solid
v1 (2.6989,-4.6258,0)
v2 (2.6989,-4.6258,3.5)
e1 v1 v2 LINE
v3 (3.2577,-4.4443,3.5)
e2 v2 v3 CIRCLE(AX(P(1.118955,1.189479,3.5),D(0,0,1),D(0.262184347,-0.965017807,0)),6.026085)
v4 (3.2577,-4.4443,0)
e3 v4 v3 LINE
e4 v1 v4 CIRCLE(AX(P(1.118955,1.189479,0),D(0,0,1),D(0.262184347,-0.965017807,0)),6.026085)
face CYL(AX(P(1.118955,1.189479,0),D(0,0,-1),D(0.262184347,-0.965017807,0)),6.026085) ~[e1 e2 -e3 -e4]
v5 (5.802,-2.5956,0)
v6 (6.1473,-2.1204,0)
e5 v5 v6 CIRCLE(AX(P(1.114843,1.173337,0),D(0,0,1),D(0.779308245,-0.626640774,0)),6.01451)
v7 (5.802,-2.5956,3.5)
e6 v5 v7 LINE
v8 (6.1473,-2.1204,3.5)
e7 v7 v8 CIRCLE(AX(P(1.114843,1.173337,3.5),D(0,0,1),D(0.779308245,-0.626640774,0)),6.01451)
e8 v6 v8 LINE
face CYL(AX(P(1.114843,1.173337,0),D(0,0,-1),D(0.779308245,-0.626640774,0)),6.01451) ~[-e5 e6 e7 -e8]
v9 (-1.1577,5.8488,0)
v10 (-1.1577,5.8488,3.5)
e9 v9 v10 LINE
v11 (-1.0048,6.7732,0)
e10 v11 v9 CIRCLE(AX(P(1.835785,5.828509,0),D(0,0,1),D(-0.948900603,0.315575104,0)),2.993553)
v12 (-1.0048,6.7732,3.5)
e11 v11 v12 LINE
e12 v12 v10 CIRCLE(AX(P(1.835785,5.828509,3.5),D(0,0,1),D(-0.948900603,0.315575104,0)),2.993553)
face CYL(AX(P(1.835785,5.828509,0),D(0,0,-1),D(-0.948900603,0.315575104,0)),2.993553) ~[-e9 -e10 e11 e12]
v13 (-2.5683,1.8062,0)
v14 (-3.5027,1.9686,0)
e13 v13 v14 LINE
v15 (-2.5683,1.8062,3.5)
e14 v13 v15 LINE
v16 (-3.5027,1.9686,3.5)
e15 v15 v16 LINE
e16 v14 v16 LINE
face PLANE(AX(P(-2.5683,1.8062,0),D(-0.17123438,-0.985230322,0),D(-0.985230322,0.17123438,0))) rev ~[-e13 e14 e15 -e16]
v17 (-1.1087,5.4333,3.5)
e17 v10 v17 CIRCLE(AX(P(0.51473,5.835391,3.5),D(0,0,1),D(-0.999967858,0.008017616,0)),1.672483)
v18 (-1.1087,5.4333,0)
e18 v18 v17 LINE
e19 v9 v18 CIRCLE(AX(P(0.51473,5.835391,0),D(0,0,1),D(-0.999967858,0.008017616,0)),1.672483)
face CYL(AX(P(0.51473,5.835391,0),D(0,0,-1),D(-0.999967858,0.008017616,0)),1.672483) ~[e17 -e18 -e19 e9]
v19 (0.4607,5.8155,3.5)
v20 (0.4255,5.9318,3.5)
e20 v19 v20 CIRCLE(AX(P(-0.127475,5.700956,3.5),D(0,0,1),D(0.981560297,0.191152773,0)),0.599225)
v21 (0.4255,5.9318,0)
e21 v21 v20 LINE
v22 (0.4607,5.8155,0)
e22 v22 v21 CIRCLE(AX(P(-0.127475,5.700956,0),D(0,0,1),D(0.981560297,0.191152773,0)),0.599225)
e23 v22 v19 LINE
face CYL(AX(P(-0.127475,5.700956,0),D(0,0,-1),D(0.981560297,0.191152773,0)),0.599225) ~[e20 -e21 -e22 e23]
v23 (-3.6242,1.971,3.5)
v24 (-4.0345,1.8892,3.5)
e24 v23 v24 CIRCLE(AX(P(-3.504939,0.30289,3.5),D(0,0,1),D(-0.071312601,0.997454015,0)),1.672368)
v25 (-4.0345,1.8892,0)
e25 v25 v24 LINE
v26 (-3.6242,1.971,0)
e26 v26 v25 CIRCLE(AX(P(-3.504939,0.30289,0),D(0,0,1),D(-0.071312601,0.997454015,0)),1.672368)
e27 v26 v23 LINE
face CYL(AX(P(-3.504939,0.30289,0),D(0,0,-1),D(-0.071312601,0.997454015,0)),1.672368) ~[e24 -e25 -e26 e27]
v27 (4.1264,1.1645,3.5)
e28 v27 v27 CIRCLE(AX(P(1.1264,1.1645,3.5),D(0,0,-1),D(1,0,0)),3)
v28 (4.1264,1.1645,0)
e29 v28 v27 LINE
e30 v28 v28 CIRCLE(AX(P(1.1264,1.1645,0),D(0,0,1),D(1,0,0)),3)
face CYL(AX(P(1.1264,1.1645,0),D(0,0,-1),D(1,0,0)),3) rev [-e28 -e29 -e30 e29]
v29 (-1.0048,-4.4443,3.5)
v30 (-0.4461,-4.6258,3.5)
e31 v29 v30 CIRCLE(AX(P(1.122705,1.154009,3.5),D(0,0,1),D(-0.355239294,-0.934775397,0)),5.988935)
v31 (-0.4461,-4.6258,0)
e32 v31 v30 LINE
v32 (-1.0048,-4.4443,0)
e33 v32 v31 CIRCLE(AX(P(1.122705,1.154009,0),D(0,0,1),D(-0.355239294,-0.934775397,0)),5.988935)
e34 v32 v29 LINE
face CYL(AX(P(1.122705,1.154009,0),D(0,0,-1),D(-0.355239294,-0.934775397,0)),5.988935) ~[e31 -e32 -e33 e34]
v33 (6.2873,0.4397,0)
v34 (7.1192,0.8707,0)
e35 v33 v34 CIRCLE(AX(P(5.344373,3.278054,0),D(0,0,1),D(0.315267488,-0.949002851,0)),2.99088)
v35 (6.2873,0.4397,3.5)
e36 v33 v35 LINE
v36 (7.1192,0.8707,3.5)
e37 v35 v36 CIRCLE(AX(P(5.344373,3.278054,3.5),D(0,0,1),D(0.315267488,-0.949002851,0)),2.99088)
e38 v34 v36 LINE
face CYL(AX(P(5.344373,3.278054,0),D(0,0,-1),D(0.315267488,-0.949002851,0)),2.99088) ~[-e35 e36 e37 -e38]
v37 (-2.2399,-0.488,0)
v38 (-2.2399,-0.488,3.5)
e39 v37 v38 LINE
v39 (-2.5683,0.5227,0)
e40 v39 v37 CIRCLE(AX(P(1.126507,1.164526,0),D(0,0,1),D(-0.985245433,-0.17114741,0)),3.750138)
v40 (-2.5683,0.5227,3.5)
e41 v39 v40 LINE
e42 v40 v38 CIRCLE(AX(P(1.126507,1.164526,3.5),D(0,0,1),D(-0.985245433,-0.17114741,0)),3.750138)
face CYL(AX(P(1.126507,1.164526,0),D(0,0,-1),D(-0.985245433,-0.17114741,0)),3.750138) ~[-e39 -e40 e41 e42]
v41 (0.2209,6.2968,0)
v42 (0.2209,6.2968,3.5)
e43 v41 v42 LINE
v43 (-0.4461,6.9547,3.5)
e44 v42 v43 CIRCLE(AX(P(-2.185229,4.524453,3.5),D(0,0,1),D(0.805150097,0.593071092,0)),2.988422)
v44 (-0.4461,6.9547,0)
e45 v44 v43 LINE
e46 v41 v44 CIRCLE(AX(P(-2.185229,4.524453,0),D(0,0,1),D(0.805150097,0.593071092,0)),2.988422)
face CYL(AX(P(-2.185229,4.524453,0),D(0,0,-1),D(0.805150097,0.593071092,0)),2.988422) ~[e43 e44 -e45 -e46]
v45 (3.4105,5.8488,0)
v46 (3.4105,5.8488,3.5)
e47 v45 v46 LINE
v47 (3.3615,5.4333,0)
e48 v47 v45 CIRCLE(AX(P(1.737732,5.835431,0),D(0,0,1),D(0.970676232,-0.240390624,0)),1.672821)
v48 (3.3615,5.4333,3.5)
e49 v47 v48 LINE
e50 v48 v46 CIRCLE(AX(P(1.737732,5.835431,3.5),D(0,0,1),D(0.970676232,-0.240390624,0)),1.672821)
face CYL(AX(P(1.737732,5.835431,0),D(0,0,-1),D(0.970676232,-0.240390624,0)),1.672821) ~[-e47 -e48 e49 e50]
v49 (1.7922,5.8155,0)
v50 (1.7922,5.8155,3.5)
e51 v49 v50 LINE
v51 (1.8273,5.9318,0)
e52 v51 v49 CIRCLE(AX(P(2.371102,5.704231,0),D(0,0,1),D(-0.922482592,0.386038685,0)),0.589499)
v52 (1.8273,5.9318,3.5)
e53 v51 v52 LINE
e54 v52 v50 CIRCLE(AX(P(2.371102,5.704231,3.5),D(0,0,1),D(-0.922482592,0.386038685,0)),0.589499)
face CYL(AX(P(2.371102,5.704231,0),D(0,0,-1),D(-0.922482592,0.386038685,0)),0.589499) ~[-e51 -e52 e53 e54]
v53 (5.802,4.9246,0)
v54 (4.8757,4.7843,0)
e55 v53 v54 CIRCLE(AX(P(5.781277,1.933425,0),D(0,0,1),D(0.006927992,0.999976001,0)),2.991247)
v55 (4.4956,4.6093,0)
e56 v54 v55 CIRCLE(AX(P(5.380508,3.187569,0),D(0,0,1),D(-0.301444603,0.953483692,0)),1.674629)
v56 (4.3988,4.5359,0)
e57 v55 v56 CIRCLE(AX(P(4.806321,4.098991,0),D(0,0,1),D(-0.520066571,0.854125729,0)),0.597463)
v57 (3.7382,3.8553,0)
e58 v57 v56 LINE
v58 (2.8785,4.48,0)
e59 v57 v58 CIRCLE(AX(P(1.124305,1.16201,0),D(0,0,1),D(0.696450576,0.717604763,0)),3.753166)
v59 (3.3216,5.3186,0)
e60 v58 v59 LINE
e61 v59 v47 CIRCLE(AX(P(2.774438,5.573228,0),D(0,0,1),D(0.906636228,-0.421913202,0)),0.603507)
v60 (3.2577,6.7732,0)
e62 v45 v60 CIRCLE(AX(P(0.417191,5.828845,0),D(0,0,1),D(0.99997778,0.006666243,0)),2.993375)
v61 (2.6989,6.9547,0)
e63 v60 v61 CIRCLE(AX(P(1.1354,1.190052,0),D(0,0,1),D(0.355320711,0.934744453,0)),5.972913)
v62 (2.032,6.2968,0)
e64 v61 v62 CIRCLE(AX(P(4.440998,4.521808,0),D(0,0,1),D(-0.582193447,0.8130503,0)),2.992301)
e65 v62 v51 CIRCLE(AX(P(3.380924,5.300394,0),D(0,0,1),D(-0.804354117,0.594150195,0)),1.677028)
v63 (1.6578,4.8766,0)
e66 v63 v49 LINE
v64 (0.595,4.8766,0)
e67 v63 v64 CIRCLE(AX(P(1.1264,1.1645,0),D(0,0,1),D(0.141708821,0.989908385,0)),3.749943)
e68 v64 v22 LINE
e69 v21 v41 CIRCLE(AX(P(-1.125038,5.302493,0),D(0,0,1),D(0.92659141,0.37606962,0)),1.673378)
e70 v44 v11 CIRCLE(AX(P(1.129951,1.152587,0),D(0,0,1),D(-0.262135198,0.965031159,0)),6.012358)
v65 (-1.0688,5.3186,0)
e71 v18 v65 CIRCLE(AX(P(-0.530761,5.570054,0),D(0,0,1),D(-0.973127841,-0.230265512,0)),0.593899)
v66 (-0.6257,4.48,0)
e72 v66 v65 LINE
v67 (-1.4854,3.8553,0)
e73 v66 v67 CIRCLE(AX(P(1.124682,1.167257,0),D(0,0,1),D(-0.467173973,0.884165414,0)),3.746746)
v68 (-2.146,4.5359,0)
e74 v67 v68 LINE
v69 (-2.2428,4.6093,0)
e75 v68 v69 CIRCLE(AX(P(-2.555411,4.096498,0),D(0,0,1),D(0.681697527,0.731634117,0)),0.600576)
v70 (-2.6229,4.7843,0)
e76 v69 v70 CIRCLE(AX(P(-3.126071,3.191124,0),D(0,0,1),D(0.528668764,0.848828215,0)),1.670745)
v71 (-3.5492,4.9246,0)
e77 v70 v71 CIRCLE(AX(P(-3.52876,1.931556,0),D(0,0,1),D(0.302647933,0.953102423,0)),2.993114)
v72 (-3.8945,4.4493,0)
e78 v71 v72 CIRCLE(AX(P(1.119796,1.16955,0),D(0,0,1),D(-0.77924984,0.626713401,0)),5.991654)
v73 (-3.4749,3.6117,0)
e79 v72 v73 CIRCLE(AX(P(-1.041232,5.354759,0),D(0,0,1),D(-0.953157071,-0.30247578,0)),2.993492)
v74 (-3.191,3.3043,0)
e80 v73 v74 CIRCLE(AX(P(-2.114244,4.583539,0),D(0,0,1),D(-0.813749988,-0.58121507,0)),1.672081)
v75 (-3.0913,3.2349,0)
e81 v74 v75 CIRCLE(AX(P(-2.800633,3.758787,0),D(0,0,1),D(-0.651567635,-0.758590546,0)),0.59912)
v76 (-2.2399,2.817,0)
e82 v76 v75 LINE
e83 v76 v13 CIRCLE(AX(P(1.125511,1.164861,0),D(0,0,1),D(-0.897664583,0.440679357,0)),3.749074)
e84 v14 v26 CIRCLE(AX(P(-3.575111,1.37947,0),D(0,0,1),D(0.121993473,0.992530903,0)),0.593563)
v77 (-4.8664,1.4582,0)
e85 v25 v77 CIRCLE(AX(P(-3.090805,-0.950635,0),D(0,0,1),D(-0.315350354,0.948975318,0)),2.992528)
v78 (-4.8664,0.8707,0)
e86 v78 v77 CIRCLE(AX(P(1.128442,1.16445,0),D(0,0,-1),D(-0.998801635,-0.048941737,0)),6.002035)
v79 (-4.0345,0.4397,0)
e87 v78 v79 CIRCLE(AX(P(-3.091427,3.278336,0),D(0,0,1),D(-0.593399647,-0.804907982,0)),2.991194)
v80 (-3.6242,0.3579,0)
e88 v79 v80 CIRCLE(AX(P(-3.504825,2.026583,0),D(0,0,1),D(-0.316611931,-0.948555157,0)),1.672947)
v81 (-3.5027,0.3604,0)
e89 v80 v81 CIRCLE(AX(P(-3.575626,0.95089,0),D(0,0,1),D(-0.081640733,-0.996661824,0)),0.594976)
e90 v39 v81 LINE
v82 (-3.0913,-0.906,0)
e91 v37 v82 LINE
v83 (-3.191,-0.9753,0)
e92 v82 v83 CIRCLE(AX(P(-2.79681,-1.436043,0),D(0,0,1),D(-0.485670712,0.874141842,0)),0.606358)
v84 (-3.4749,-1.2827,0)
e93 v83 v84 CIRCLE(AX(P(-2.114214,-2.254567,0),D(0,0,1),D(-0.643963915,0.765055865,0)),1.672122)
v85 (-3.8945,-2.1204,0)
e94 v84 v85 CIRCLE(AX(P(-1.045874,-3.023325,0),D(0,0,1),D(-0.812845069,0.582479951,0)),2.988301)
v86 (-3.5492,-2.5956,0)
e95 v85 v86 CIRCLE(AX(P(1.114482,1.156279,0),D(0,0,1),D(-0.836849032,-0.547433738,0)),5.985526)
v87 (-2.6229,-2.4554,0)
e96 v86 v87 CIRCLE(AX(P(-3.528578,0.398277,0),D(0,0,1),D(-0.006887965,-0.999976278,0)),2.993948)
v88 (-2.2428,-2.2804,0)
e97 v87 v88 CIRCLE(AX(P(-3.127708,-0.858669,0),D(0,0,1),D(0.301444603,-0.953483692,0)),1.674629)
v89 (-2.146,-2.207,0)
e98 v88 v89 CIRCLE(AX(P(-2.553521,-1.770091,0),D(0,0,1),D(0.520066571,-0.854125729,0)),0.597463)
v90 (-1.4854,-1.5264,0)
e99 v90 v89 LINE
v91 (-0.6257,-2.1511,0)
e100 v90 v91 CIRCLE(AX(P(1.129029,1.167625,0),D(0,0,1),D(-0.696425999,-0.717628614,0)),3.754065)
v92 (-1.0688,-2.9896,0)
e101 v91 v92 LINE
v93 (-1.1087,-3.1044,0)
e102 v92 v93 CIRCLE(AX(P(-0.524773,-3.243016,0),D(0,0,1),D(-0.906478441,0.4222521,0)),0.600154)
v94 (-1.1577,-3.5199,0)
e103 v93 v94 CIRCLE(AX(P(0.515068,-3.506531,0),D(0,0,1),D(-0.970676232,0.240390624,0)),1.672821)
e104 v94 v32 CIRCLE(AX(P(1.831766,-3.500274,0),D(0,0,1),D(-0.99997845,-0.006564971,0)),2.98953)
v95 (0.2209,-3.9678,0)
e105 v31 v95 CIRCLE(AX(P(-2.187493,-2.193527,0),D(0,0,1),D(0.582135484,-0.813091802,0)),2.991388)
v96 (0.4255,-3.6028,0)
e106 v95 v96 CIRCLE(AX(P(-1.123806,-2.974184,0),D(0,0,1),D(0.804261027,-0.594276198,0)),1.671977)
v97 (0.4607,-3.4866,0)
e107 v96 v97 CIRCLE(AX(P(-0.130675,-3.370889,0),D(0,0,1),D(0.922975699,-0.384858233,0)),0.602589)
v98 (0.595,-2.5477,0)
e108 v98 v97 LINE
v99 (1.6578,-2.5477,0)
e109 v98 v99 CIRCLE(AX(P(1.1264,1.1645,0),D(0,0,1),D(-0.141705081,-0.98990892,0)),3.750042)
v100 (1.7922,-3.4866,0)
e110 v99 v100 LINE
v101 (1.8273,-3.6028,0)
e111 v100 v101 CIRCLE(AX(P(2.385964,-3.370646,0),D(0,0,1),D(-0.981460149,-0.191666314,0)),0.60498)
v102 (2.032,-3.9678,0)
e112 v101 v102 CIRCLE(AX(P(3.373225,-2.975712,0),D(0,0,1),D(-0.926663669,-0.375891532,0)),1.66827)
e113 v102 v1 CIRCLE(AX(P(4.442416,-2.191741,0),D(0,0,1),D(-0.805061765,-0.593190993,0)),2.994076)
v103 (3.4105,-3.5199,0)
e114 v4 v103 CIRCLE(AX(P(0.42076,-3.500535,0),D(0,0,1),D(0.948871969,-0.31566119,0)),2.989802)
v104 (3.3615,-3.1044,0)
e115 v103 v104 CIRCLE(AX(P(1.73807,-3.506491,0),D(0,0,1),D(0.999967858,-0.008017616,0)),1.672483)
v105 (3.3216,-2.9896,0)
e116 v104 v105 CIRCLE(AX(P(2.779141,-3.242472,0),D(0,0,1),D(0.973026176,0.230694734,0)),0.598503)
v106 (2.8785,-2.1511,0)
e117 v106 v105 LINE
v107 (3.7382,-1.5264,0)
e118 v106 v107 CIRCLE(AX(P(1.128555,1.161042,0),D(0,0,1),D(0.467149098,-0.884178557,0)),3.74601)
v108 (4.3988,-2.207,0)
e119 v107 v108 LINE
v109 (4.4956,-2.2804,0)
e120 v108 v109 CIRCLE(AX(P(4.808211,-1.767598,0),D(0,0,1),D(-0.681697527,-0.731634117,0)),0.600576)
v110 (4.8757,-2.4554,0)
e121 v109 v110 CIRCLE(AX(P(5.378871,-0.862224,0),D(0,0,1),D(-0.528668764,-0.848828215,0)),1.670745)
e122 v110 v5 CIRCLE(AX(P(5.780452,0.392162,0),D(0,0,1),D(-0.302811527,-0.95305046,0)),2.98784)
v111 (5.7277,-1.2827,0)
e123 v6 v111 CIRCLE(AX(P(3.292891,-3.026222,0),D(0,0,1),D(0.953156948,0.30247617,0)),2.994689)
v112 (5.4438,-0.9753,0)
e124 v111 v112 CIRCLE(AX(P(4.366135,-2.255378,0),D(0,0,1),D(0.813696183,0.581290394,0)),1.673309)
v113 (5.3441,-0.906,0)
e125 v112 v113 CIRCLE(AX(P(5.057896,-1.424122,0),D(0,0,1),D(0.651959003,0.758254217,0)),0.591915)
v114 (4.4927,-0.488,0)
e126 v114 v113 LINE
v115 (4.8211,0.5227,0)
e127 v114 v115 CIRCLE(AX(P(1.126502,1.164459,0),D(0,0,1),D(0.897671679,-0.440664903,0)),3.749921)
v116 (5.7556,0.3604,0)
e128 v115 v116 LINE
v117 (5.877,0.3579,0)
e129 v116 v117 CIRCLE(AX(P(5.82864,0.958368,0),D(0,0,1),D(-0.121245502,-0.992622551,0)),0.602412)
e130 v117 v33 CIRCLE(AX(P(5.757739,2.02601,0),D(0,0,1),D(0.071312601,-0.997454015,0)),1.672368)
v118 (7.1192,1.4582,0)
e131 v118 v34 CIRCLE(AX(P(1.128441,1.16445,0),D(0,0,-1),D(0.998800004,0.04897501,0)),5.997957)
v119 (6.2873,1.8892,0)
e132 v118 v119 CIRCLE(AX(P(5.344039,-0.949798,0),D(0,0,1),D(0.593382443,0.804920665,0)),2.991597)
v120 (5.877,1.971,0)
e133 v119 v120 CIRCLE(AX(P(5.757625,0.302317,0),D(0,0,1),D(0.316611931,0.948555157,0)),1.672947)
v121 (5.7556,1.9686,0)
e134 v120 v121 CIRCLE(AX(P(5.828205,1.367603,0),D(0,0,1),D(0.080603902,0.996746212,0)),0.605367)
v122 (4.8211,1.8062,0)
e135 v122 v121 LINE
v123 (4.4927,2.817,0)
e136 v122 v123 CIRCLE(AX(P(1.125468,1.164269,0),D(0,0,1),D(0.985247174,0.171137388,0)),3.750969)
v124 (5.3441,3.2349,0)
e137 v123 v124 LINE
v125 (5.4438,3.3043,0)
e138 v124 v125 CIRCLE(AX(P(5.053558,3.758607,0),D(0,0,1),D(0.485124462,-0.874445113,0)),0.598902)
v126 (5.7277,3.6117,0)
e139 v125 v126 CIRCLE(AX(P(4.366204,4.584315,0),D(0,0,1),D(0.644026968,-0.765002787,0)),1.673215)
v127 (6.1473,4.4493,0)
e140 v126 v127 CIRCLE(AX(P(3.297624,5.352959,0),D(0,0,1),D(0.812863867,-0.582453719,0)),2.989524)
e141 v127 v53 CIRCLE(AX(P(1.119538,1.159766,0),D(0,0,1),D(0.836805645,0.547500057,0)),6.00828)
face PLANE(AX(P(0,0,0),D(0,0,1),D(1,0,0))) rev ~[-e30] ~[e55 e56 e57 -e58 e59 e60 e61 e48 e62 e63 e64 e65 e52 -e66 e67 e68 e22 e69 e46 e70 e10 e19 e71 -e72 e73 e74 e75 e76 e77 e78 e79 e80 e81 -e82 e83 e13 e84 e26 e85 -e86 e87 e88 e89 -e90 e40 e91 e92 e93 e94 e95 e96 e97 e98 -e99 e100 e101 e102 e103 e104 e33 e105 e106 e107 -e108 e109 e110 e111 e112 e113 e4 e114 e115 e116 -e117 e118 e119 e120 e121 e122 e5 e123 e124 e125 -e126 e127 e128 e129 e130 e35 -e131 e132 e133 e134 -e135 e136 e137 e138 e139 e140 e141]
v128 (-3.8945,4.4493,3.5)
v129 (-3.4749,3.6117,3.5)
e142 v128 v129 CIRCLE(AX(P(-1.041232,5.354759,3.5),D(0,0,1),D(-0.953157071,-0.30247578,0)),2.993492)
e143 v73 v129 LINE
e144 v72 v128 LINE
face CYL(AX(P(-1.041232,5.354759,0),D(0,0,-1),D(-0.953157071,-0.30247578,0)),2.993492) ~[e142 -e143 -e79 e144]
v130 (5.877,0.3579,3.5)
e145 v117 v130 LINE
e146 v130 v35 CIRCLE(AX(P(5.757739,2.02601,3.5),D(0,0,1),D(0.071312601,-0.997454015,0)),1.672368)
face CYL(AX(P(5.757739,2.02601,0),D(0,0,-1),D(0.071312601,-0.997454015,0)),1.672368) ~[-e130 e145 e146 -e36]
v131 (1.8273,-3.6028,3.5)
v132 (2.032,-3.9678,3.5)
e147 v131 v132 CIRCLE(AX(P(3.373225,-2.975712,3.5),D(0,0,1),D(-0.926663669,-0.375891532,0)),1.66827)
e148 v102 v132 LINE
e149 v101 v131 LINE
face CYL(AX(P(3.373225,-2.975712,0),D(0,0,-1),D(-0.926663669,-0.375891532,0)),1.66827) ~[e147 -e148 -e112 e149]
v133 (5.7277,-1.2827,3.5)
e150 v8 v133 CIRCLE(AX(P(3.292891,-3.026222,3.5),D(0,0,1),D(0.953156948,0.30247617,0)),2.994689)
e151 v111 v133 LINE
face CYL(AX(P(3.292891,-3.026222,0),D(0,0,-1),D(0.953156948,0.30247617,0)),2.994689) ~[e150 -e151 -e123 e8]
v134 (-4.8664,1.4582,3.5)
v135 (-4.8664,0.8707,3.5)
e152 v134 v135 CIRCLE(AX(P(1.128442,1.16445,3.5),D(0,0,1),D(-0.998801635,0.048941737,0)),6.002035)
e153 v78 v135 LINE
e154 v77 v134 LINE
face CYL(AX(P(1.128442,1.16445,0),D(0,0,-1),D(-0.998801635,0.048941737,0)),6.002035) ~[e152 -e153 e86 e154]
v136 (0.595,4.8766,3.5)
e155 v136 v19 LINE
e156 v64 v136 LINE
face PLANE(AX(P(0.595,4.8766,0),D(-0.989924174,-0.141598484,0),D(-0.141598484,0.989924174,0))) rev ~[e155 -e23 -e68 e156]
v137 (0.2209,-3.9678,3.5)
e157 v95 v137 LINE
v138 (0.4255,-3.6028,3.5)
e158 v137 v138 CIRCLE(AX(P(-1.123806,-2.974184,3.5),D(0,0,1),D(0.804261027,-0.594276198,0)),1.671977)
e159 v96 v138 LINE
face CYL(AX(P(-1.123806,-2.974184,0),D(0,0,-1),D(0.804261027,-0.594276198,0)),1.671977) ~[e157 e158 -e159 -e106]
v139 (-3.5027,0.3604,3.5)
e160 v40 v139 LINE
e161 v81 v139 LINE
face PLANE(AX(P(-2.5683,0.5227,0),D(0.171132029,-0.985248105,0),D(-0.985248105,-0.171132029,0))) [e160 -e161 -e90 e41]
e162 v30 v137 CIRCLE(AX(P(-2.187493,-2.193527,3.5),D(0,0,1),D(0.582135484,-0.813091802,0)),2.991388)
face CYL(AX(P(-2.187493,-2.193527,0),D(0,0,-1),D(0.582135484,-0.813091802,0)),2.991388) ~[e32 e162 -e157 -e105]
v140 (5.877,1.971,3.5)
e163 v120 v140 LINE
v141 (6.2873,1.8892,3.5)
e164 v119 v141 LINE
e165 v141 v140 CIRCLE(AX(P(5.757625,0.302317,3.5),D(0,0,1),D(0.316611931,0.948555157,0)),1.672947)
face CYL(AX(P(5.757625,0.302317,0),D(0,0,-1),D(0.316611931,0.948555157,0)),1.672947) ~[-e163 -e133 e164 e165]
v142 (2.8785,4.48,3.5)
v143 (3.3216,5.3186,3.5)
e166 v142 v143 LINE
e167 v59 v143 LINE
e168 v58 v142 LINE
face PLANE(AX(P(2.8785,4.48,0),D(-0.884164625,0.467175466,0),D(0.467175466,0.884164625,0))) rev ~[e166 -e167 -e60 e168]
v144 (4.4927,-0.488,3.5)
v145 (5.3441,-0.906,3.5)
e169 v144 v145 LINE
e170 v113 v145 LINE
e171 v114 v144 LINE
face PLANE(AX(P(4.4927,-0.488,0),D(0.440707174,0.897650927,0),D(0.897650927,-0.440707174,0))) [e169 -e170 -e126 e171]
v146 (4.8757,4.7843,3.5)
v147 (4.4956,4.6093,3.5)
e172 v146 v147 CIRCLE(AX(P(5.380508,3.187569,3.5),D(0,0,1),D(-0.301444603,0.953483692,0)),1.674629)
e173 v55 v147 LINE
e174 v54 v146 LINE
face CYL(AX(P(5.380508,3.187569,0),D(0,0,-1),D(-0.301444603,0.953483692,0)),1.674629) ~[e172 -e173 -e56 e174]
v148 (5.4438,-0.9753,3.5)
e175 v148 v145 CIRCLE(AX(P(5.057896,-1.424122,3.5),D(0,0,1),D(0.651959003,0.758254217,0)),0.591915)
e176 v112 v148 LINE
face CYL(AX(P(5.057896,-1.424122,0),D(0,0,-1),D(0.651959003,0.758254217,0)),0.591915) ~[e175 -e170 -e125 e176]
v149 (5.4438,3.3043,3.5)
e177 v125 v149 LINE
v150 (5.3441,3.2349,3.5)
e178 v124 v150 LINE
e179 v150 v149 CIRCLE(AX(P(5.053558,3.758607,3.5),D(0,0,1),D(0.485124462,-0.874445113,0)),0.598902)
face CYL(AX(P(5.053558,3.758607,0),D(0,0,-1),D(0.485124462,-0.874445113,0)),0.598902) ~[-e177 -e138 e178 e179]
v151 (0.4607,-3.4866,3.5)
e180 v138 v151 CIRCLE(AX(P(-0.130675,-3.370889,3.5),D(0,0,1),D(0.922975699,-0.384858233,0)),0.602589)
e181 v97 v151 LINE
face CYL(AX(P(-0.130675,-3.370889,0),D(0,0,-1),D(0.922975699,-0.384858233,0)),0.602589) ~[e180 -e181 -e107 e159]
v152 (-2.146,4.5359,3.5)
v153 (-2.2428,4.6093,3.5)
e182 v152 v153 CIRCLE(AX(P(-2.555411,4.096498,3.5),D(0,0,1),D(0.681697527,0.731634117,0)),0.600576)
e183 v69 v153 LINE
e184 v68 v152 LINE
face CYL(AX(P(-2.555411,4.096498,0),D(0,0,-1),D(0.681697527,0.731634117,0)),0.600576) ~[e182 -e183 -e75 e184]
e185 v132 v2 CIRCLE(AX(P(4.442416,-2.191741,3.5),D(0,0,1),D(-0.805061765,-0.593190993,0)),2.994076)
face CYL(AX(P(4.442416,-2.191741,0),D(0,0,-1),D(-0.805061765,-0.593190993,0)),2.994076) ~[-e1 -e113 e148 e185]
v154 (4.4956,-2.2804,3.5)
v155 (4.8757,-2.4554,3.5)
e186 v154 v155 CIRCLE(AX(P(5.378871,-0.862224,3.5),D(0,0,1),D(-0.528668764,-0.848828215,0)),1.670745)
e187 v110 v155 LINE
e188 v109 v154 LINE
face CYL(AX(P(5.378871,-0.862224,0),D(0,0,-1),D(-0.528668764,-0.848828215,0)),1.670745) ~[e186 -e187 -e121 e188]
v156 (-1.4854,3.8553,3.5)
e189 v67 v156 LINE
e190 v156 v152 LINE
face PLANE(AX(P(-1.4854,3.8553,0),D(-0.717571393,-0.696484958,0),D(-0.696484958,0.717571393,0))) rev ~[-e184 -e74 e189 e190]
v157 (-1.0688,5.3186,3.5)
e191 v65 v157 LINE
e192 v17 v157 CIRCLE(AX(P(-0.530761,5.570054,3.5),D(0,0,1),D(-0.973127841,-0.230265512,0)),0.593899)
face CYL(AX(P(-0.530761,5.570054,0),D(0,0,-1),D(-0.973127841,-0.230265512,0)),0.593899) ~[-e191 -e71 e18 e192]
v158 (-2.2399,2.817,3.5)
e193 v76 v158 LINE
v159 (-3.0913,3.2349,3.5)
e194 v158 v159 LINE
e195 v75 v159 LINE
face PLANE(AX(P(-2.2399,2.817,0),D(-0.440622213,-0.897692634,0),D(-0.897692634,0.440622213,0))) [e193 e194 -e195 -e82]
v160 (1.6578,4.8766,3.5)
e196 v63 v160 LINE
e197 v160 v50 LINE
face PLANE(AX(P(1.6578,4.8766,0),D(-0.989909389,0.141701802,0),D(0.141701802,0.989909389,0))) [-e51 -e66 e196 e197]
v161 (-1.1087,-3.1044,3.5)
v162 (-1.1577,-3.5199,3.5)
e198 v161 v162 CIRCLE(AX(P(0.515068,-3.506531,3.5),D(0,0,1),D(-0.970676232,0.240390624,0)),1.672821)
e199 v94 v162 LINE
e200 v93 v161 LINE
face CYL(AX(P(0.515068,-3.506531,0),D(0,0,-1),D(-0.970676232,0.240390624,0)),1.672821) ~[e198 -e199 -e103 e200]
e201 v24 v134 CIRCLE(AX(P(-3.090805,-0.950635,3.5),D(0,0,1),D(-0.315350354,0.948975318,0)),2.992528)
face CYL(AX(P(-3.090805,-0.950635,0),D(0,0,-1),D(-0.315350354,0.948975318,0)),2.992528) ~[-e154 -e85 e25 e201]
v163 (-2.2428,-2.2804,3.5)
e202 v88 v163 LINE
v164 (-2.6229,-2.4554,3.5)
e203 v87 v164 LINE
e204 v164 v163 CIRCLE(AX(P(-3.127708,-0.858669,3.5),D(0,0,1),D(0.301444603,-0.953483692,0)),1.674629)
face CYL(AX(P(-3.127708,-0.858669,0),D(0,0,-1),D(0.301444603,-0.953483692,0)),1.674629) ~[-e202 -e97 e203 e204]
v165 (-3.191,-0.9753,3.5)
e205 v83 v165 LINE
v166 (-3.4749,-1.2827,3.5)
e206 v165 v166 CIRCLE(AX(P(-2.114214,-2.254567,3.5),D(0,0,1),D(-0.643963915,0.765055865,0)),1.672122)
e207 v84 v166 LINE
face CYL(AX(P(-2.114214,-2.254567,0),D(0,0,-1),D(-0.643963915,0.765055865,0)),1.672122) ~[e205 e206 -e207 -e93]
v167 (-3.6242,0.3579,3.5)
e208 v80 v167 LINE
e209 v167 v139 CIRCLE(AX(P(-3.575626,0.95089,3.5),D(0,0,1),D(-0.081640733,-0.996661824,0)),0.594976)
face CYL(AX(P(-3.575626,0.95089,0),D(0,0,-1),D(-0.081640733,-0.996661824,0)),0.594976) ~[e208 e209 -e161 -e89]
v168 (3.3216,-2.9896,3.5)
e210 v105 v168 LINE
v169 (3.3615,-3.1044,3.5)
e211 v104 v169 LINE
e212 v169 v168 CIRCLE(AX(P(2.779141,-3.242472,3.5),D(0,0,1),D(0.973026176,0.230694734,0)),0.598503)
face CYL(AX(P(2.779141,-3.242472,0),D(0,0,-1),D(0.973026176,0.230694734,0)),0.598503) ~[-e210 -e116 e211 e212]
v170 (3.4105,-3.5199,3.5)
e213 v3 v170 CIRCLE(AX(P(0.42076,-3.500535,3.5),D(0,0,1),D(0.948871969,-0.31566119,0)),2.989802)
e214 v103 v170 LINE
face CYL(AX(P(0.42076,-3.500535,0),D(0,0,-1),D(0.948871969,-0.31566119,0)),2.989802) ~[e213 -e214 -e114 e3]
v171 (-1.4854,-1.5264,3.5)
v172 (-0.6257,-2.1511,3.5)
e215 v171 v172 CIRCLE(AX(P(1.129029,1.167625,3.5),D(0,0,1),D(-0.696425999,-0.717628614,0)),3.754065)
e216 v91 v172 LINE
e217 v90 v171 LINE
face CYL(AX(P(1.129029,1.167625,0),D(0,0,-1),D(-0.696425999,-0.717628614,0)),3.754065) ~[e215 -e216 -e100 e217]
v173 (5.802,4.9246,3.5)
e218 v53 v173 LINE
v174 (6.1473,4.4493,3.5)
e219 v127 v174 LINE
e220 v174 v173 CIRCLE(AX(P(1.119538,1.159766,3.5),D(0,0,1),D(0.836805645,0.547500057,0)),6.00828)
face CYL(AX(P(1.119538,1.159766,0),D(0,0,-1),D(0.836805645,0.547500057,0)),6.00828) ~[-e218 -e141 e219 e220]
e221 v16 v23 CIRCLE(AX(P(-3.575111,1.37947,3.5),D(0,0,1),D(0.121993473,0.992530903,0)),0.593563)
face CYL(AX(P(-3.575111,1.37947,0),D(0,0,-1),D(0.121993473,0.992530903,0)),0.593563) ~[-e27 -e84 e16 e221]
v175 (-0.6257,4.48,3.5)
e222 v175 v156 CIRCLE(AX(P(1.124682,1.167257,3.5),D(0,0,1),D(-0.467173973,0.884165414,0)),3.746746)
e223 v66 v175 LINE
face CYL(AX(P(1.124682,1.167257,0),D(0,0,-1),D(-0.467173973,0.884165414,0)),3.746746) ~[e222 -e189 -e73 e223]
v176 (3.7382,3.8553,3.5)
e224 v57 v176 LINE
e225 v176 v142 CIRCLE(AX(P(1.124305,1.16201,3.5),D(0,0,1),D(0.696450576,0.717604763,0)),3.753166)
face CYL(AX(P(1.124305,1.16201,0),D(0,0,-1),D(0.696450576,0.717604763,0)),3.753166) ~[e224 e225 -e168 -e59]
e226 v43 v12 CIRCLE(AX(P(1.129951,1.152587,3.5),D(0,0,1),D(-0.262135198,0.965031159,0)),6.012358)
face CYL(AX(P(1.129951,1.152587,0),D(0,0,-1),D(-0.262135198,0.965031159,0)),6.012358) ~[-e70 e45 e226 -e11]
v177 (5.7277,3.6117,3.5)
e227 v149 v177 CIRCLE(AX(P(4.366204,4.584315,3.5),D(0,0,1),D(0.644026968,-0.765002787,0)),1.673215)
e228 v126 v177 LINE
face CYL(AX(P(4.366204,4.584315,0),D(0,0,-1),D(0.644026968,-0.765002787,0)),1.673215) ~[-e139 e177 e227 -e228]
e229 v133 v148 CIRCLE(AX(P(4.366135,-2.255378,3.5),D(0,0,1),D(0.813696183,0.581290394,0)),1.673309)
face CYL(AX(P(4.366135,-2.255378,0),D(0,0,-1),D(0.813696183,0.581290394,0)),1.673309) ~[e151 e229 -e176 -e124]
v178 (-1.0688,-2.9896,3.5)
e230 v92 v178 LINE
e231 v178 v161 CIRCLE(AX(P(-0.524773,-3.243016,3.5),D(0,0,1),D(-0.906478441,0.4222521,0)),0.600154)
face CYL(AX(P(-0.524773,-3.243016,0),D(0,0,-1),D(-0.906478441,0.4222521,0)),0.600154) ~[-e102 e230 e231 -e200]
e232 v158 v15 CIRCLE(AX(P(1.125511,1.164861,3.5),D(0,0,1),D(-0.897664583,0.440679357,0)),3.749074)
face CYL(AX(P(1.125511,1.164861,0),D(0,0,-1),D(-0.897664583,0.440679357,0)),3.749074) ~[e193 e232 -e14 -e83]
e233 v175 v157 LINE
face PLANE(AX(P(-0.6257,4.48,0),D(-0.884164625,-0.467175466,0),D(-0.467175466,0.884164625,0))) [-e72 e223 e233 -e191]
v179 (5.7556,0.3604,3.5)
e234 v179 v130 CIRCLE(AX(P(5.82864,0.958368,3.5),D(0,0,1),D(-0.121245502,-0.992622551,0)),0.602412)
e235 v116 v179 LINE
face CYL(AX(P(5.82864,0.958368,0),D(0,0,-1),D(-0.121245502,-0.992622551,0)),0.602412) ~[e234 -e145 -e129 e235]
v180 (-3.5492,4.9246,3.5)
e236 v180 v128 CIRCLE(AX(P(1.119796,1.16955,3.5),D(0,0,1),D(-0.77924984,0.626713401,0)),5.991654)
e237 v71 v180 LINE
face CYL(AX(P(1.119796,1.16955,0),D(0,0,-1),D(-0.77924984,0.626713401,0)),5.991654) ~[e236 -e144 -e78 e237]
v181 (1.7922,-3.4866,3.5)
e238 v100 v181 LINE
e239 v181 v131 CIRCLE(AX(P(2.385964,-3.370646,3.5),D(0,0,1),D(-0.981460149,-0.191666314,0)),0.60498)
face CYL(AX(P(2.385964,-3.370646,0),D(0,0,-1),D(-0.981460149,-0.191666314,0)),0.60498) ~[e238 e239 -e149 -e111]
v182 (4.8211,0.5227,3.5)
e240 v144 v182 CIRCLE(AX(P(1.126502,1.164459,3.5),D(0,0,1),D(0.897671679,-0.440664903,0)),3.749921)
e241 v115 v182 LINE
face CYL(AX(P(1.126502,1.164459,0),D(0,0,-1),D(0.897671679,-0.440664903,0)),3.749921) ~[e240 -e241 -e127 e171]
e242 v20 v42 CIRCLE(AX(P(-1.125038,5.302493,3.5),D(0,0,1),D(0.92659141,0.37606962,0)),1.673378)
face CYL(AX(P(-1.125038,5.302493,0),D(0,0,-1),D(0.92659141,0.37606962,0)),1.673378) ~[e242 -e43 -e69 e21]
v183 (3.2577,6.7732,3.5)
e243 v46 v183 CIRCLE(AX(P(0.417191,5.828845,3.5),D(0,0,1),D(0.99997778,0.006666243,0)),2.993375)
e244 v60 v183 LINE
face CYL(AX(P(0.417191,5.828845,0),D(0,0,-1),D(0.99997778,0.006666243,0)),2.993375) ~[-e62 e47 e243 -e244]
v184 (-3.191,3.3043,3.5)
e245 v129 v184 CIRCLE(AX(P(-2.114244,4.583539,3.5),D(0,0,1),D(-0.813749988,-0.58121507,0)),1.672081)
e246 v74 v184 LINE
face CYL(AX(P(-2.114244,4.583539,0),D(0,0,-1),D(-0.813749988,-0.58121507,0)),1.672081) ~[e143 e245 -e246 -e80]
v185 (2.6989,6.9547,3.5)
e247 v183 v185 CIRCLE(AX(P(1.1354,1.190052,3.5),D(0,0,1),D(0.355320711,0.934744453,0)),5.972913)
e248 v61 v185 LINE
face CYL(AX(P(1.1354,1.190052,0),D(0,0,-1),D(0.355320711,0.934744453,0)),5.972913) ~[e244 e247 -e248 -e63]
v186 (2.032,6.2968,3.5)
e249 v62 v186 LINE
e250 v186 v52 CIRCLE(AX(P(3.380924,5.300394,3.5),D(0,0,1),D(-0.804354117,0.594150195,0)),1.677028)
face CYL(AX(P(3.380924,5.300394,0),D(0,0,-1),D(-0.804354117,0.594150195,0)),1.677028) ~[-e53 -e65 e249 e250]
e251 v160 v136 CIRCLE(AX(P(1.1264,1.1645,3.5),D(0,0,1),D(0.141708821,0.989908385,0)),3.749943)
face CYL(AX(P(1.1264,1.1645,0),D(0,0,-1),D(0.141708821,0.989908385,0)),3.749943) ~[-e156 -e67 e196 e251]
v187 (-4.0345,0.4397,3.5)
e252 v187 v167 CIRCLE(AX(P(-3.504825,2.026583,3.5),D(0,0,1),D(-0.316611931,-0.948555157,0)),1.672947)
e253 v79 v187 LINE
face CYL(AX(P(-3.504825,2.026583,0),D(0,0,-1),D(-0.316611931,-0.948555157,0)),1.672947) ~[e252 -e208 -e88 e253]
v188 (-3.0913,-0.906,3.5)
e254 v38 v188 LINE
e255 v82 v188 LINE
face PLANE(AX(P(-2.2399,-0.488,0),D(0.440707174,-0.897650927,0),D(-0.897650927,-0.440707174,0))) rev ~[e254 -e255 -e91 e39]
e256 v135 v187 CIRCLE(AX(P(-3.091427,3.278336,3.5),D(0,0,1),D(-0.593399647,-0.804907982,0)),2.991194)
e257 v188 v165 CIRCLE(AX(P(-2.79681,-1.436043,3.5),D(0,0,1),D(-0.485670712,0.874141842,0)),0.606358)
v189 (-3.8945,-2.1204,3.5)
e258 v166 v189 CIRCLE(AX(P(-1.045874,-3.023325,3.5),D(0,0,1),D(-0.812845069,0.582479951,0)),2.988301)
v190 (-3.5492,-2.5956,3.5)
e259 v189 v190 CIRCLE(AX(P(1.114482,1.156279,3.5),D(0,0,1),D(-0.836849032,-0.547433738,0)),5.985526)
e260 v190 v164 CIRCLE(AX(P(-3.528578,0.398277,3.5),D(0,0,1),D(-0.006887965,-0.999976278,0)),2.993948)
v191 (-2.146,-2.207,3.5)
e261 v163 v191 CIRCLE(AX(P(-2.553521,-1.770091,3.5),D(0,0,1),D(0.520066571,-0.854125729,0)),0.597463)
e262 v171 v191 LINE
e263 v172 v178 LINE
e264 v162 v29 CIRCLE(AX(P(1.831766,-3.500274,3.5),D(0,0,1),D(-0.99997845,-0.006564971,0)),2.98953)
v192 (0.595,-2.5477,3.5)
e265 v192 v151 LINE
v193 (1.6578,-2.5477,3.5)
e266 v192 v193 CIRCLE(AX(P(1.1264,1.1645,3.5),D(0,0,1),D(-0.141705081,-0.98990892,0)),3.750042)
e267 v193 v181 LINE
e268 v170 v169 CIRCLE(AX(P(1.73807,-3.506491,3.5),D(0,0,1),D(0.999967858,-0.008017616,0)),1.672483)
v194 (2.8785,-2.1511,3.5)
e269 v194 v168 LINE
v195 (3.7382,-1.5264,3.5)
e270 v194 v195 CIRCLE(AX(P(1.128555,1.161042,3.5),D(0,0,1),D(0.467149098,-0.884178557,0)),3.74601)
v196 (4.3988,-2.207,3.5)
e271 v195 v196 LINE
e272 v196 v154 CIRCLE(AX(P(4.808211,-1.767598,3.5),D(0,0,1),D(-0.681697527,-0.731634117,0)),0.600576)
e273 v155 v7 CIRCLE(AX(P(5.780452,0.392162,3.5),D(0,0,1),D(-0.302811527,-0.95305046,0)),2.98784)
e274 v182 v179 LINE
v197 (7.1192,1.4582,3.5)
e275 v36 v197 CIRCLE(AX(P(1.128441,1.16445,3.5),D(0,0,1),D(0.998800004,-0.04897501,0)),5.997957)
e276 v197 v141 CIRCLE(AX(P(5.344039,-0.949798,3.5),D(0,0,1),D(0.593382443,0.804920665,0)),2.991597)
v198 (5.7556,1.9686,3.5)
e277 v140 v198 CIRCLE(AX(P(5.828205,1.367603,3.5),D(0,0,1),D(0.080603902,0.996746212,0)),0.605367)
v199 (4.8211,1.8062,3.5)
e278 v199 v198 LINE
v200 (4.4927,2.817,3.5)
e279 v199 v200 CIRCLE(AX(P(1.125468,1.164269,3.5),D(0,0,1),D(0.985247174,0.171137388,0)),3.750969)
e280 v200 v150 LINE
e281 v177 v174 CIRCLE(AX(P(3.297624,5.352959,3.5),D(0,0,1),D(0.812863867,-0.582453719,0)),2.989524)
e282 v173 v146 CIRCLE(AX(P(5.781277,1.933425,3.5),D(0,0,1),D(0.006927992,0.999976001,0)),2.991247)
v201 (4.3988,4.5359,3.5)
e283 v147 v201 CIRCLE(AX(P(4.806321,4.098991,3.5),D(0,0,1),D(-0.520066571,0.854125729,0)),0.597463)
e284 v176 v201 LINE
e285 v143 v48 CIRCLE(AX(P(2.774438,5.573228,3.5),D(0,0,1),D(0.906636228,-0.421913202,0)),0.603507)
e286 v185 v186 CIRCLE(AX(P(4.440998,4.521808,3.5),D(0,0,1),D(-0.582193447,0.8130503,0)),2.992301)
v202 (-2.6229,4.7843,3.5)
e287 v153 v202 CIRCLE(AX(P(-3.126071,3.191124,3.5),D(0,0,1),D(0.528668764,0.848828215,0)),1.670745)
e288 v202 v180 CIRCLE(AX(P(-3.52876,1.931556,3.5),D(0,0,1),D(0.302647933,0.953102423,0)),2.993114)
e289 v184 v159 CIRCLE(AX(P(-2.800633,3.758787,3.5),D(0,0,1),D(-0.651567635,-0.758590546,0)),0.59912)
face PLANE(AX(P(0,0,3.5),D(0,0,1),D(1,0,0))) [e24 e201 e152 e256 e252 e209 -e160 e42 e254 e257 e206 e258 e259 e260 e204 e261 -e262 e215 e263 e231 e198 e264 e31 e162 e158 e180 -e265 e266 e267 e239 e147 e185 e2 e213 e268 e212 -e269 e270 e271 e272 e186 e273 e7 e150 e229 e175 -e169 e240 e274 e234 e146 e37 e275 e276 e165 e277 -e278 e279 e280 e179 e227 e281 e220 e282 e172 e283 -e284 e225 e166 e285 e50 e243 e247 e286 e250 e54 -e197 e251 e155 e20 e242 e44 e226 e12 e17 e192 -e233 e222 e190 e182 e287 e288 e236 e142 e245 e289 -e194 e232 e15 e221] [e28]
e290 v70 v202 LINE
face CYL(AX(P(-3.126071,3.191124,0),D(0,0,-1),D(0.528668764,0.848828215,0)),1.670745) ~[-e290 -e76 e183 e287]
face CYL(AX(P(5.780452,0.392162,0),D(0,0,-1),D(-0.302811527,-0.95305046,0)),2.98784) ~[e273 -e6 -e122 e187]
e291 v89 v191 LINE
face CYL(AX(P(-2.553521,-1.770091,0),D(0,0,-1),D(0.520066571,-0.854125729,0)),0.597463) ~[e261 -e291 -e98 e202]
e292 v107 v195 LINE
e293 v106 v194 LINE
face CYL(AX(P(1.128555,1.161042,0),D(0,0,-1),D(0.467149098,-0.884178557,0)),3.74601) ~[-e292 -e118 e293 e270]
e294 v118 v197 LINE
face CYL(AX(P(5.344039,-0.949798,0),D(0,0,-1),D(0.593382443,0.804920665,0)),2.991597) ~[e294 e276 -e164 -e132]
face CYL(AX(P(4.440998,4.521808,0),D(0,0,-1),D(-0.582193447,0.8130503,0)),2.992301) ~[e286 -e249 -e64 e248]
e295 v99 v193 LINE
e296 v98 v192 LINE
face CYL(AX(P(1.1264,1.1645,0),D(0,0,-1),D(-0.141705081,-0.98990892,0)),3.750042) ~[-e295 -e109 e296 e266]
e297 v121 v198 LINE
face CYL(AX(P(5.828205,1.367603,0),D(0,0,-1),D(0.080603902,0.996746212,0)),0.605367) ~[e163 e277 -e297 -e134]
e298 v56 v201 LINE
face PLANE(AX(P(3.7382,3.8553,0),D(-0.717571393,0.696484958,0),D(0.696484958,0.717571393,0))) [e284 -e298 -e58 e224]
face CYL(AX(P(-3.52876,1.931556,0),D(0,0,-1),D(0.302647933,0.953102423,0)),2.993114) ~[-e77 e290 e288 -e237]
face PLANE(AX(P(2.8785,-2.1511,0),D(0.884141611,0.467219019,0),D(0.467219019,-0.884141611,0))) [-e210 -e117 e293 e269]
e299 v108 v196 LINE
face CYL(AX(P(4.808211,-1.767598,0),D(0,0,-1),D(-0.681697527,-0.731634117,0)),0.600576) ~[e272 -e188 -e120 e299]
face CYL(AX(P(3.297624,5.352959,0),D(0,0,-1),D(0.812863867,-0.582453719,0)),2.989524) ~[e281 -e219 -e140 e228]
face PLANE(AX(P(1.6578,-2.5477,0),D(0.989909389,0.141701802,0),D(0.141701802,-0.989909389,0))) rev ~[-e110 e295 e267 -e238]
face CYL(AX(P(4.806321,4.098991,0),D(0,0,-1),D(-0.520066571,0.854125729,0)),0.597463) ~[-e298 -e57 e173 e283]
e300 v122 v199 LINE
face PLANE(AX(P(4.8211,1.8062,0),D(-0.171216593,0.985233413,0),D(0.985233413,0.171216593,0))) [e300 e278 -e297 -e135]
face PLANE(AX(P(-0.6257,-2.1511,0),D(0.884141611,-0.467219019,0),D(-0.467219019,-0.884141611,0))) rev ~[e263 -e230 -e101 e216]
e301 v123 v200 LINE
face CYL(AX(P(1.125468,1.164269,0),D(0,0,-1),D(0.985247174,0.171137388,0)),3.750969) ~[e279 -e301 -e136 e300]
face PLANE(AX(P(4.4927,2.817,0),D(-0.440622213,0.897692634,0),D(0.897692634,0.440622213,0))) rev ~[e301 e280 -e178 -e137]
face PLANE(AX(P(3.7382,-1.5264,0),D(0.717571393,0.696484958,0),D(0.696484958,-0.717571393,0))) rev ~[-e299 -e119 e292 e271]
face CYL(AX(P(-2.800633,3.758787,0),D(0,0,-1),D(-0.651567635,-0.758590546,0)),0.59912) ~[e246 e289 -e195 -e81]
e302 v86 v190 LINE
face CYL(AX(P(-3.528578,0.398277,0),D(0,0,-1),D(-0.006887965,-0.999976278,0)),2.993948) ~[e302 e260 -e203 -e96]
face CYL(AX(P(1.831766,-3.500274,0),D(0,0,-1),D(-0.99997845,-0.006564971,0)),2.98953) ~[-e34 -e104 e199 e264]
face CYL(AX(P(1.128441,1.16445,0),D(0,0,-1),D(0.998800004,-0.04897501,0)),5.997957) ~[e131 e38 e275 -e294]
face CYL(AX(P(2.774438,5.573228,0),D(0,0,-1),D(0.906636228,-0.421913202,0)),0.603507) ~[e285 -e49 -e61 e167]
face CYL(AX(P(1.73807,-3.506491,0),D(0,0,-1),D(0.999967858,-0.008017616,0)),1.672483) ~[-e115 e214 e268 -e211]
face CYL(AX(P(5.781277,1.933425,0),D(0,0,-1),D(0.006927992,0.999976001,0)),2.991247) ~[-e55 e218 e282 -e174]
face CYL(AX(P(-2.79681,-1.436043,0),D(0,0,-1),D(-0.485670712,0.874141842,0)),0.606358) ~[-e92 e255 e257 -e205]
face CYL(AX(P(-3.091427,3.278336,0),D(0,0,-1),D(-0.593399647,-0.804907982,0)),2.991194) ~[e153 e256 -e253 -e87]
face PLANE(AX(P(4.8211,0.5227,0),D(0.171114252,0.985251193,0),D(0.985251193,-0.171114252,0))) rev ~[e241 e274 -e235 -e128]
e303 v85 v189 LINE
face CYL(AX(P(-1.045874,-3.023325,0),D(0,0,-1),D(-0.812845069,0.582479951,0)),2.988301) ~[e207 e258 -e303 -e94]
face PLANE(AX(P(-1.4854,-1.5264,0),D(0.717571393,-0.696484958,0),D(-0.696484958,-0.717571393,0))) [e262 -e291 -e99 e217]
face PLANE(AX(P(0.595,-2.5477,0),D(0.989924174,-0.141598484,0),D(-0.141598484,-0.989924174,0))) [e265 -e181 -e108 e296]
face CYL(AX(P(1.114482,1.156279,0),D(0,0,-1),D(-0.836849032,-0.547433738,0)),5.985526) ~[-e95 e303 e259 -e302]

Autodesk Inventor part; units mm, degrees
ref_plane "YZ Plane" through (0, 0, 0) normal (1, 0, 0) x (0, 1, 0)
ref_plane "XZ Plane" through (0, 0, 0) normal (0, 1, 0) x (-1, 0, 0)
ref_plane "XY Plane" through (0, 0, 0) normal (0, 0, 1) x (1, 0, 0)
sketch "スケッチ1" plane through (0, 0, 0) normal (0, 0, 1) x (1, 0, 0)
  arc A0 (1.8273, 5.9318) -> (1.7922, 5.8155) centre (2.3801, 5.701) ccw
  arc A1 (2.032, 6.2968) -> (1.8273, 5.9318) centre (3.3772, 5.3028) ccw
  arc A2 (2.6989, 6.9547) -> (2.032, 6.2968) centre (4.4405, 4.5224) ccw
  arc A3 (0.4607, 5.8155) -> (0.4255, 5.9318) centre (-0.1273, 5.701) ccw
  arc A4 (0.4255, 5.9318) -> (0.2209, 6.2968) centre (-1.1244, 5.3028) ccw
  arc A5 (0.2209, 6.2968) -> (-0.4461, 6.9547) centre (-2.1876, 4.5224) ccw
  arc A6 (1.6578, 4.8766) -> (0.595, 4.8766) centre (1.1264, 1.1645) ccw
  arc A7 (-0.4461, 6.9547) -> (-1.0048, 6.7732) centre (1.1264, 1.1645) ccw
  line L0 (1.6578, 4.8766) -> (1.7922, 5.8155)
  line L1 (0.595, 4.8766) -> (0.4607, 5.8155)
  line L2 (-6.8736, 1.1645) -> (9.1264, 1.1645)
  arc A8 (-2.146, 4.5359) -> (-2.2428, 4.6093) centre (-2.5544, 4.0977) ccw
  arc A9 (-2.2428, 4.6093) -> (-2.6229, 4.7843) centre (-3.127, 3.1894) ccw
  arc A10 (-2.6229, 4.7843) -> (-3.5492, 4.9246) centre (-3.5284, 1.9331) ccw
  arc A11 (-3.5492, 4.9246) -> (-3.8945, 4.4493) centre (1.1264, 1.1645) ccw
  line L3 (-1.4854, 3.8553) -> (-2.146, 4.5359)
  arc A12 (-0.6257, 4.48) -> (-1.4854, 3.8553) centre (1.1264, 1.1645) ccw
  line L4 (-0.6257, 4.48) -> (-1.0688, 5.3186)
  arc A13 (-1.1087, 5.4333) -> (-1.0688, 5.3186) centre (-0.5258, 5.5715) ccw
  arc A14 (-1.1577, 5.8488) -> (-1.1087, 5.4333) centre (0.5149, 5.8354) ccw
  arc A15 (-1.0048, 6.7732) -> (-1.1577, 5.8488) centre (1.8338, 5.829) ccw
  arc A16 (-3.5027, 1.9686) -> (-3.6242, 1.971) centre (-3.5755, 1.374) ccw
  arc A17 (-3.6242, 1.971) -> (-4.0345, 1.8892) centre (-3.5049, 0.3026) ccw
  arc A18 (-4.0345, 1.8892) -> (-4.8664, 1.4582) centre (-3.0912, -0.9497) ccw
  arc A19 (-4.8664, 1.4582) -> (-4.8664, 0.8707) centre (1.1264, 1.1645) ccw
  line L5 (-2.5683, 1.8062) -> (-3.5027, 1.9686)
  arc A20 (-2.2399, 2.817) -> (-2.5683, 1.8062) centre (1.1264, 1.1645) ccw
  line L6 (-2.2399, 2.817) -> (-3.0913, 3.2349)
  arc A21 (-3.191, 3.3043) -> (-3.0913, 3.2349) centre (-2.8007, 3.7587) ccw
  arc A22 (-3.4749, 3.6117) -> (-3.191, 3.3043) centre (-2.1138, 4.5839) ccw
  arc A23 (-3.8945, 4.4493) -> (-3.4749, 3.6117) centre (-1.0431, 5.354) ccw
  arc A24 (-3.0913, -0.906) -> (-3.191, -0.9753) centre (-2.8007, -1.4298) ccw
  arc A25 (-3.191, -0.9753) -> (-3.4749, -1.2827) centre (-2.1138, -2.255) ccw
  arc A26 (-3.4749, -1.2827) -> (-3.8945, -2.1204) centre (-1.0431, -3.025) ccw
  arc A27 (-3.8945, -2.1204) -> (-3.5492, -2.5956) centre (1.1264, 1.1645) ccw
  line L7 (-2.2399, -0.488) -> (-3.0913, -0.906)
  arc A28 (-2.5683, 0.5227) -> (-2.2399, -0.488) centre (1.1264, 1.1645) ccw
  line L8 (-2.5683, 0.5227) -> (-3.5027, 0.3604)
  arc A29 (-3.6242, 0.3579) -> (-3.5027, 0.3604) centre (-3.5755, 0.955) ccw
  arc A30 (-4.0345, 0.4397) -> (-3.6242, 0.3579) centre (-3.5049, 2.0263) ccw
  arc A31 (-4.8664, 0.8707) -> (-4.0345, 0.4397) centre (-3.0912, 3.2787) ccw
  arc A32 (-1.0688, -2.9896) -> (-1.1087, -3.1044) centre (-0.5258, -3.2426) ccw
  arc A33 (-1.1087, -3.1044) -> (-1.1577, -3.5199) centre (0.5149, -3.5065) ccw
  arc A34 (-1.1577, -3.5199) -> (-1.0048, -4.4443) centre (1.8338, -3.5001) ccw
  arc A35 (-1.0048, -4.4443) -> (-0.4461, -4.6258) centre (1.1264, 1.1645) ccw
  line L9 (-0.6257, -2.1511) -> (-1.0688, -2.9896)
  arc A36 (-1.4854, -1.5264) -> (-0.6257, -2.1511) centre (1.1264, 1.1645) ccw
  line L10 (-1.4854, -1.5264) -> (-2.146, -2.207)
  arc A37 (-2.2428, -2.2804) -> (-2.146, -2.207) centre (-2.5544, -1.7688) ccw
  arc A38 (-2.6229, -2.4554) -> (-2.2428, -2.2804) centre (-3.127, -0.8605) ccw
  arc A39 (-3.5492, -2.5956) -> (-2.6229, -2.4554) centre (-3.5284, 0.3958) ccw
  arc A40 (1.7922, -3.4866) -> (1.8273, -3.6028) centre (2.3801, -3.3721) ccw
  arc A41 (1.8273, -3.6028) -> (2.032, -3.9678) centre (3.3772, -2.9738) ccw
  arc A42 (2.032, -3.9678) -> (2.6989, -4.6258) centre (4.4405, -2.1934) ccw
  arc A43 (2.6989, -4.6258) -> (3.2577, -4.4443) centre (1.1264, 1.1645) ccw
  line L11 (1.6578, -2.5477) -> (1.7922, -3.4866)
  arc A44 (0.595, -2.5477) -> (1.6578, -2.5477) centre (1.1264, 1.1645) ccw
  line L12 (0.595, -2.5477) -> (0.4607, -3.4866)
  arc A45 (0.4255, -3.6028) -> (0.4607, -3.4866) centre (-0.1273, -3.3721) ccw
  arc A46 (0.2209, -3.9678) -> (0.4255, -3.6028) centre (-1.1244, -2.9738) ccw
  arc A47 (-0.4461, -4.6258) -> (0.2209, -3.9678) centre (-2.1876, -2.1934) ccw
  arc A48 (4.3988, -2.207) -> (4.4956, -2.2804) centre (4.8072, -1.7688) ccw
  arc A49 (4.4956, -2.2804) -> (4.8757, -2.4554) centre (5.3798, -0.8605) ccw
  arc A50 (4.8757, -2.4554) -> (5.802, -2.5956) centre (5.7813, 0.3958) ccw
  arc A51 (5.802, -2.5956) -> (6.1473, -2.1204) centre (1.1264, 1.1645) ccw
  line L13 (3.7382, -1.5264) -> (4.3988, -2.207)
  arc A52 (2.8785, -2.1511) -> (3.7382, -1.5264) centre (1.1264, 1.1645) ccw
  line L14 (2.8785, -2.1511) -> (3.3216, -2.9896)
  arc A53 (3.3615, -3.1044) -> (3.3216, -2.9896) centre (2.7787, -3.2426) ccw
  arc A54 (3.4105, -3.5199) -> (3.3615, -3.1044) centre (1.7379, -3.5065) ccw
  arc A55 (3.2577, -4.4443) -> (3.4105, -3.5199) centre (0.419, -3.5001) ccw
  arc A56 (5.7556, 0.3604) -> (5.877, 0.3579) centre (5.8284, 0.955) ccw
  arc A57 (5.877, 0.3579) -> (6.2873, 0.4397) centre (5.7577, 2.0263) ccw
  arc A58 (6.2873, 0.4397) -> (7.1192, 0.8707) centre (5.3441, 3.2787) ccw
  arc A59 (7.1192, 0.8707) -> (7.1192, 1.4582) centre (1.1264, 1.1645) ccw
  line L15 (4.8211, 0.5227) -> (5.7556, 0.3604)
  arc A60 (4.4927, -0.488) -> (4.8211, 0.5227) centre (1.1264, 1.1645) ccw
  line L16 (4.4927, -0.488) -> (5.3441, -0.906)
  arc A61 (5.4438, -0.9753) -> (5.3441, -0.906) centre (5.0535, -1.4298) ccw
  arc A62 (5.7277, -1.2827) -> (5.4438, -0.9753) centre (4.3666, -2.255) ccw
  arc A63 (6.1473, -2.1204) -> (5.7277, -1.2827) centre (3.2959, -3.025) ccw
  arc A64 (5.3441, 3.2349) -> (5.4438, 3.3043) centre (5.0535, 3.7587) ccw
  arc A65 (5.4438, 3.3043) -> (5.7277, 3.6117) centre (4.3666, 4.5839) ccw
  arc A66 (5.7277, 3.6117) -> (6.1473, 4.4493) centre (3.2959, 5.354) ccw
  arc A67 (6.1473, 4.4493) -> (5.802, 4.9246) centre (1.1264, 1.1645) ccw
  line L17 (4.4927, 2.817) -> (5.3441, 3.2349)
  arc A68 (4.8211, 1.8062) -> (4.4927, 2.817) centre (1.1264, 1.1645) ccw
  line L18 (4.8211, 1.8062) -> (5.7556, 1.9686)
  arc A69 (5.877, 1.971) -> (5.7556, 1.9686) centre (5.8284, 1.374) ccw
  arc A70 (6.2873, 1.8892) -> (5.877, 1.971) centre (5.7577, 0.3026) ccw
  arc A71 (7.1192, 1.4582) -> (6.2873, 1.8892) centre (5.3441, -0.9497) ccw
  arc A72 (3.3216, 5.3186) -> (3.3615, 5.4333) centre (2.7787, 5.5715) ccw
  arc A73 (3.3615, 5.4333) -> (3.4105, 5.8488) centre (1.7379, 5.8354) ccw
  arc A74 (3.4105, 5.8488) -> (3.2577, 6.7732) centre (0.419, 5.829) ccw
  arc A75 (3.2577, 6.7732) -> (2.6989, 6.9547) centre (1.1264, 1.1645) ccw
  line L19 (2.8785, 4.48) -> (3.3216, 5.3186)
  arc A76 (3.7382, 3.8553) -> (2.8785, 4.48) centre (1.1264, 1.1645) ccw
  line L20 (3.7382, 3.8553) -> (4.3988, 4.5359)
  arc A77 (4.4956, 4.6093) -> (4.3988, 4.5359) centre (4.8072, 4.0977) ccw
  arc A78 (4.8757, 4.7843) -> (4.4956, 4.6093) centre (5.3798, 3.1894) ccw
  arc A79 (5.802, 4.9246) -> (4.8757, 4.7843) centre (5.7813, 1.9331) ccw
  circle A80 centre (1.1264, 1.1645) radius 3
  point P0 (0, 0)
  point P1 (-4.0295, 1.8909)
  point P2 (-4.8664, 1.4582)
  point P3 (-4.8664, 0.8707)
  point P4 (-4.0295, 0.4381)
  point P5 (-3.6149, 0.3572)
  point P6 (-3.0913, -0.906)
  point P7 (-3.1839, -0.9694)
  point P8 (-3.4718, -1.2784)
  point P9 (-3.8945, -2.1204)
  point P10 (-3.5492, -2.5956)
  point P11 (-2.6178, -2.4538)
  point P12 (-2.235, -2.2755)
  point P13 (-1.4854, -1.5264)
  point P14 (-0.6257, -2.1511)
  point P15 (-1.1065, -3.0954)
  point P16 (-1.1577, -3.5146)
  point P17 (-1.0048, -4.4443)
  point P18 (-0.4461, -4.6258)
  point P19 (0.224, -3.9636)
  point P20 (0.429, -3.5943)
  point P21 (0.595, -2.5477)
  point P22 (1.6578, -2.5477)
  point P23 (1.8239, -3.5943)
  point P24 (2.0288, -3.9636)
  point P25 (2.6989, -4.6258)
  point P26 (3.2577, -4.4443)
  point P27 (3.4105, -3.5146)
  point P28 (3.3593, -3.0954)
  point P29 (2.8785, -2.1511)
  point P30 (4.4878, -2.2755)
  point P31 (4.8707, -2.4538)
  point P32 (5.802, -2.5956)
  point P33 (6.1473, -2.1204)
  point P34 (5.7246, -1.2784)
  point P35 (5.4367, -0.9694)
  point P36 (5.3441, -0.906)
  point P37 (4.4927, -0.488)
  point P38 (4.8211, 0.5227)
  point P39 (5.8678, 0.3572)
  point P40 (6.2823, 0.4381)
  point P41 (7.1192, 0.8707)
  point P42 (7.1192, 1.4582)
  point P43 (6.2823, 1.8909)
  point P44 (5.8678, 1.9717)
  point P45 (4.8211, 1.8062)
  point P46 (5.4367, 3.2983)
  point P47 (5.7246, 3.6074)
  point P48 (6.1473, 4.4493)
  point P49 (5.802, 4.9246)
  point P50 (4.8707, 4.7827)
  point P51 (4.4878, 4.6044)
  point P52 (3.7382, 3.8553)
  point P53 (3.3216, 5.3186)
  point P54 (3.3593, 5.4243)
  point P55 (3.4105, 5.8436)
  point P56 (3.2577, 6.7732)
  point P57 (2.6989, 6.9547)
  point P58 (2.0288, 6.2925)
  point P59 (1.8239, 5.9232)
  point P60 (1.6578, 4.8766)
  point P61 (0.595, 4.8766)
  point P62 (0.4607, 5.8155)
  point P63 (0.429, 5.9232)
  point P64 (0.224, 6.2925)
  point P65 (-0.4461, 6.9547)
  point P66 (-1.0048, 6.7732)
  point P67 (-1.1577, 5.8436)
  point P68 (-1.1065, 5.4243)
  point P69 (-0.6257, 4.48)
  point P70 (-1.4854, 3.8553)
  point P71 (-2.235, 4.6044)
  point P72 (-2.6178, 4.7827)
  point P73 (-3.5492, 4.9246)
  point P74 (-3.8945, 4.4493)
  point P75 (-3.4718, 3.6074)
  point P76 (-3.1839, 3.2983)
  point P77 (-2.5683, 1.8062)
  point P78 (-3.5027, 1.9686)
  point P79 (-3.6149, 1.9717)
  point P80 (1.8273, -3.6028)
  point P81 (2.032, -3.9678)
  point P82 (3.4105, -3.5146)
  point P83 (3.3615, -3.1044)
  point P84 (4.4956, -2.2804)
  point P85 (4.8757, -2.4554)
  point P86 (5.7277, -1.2827)
  point P87 (5.4438, -0.9753)
  point P88 (5.8678, 0.3572)
  point P89 (6.2873, 0.4397)
  point P90 (6.2823, 1.8909)
  point P91 (5.877, 1.971)
  point P92 (5.4438, 3.3043)
  point P93 (5.7246, 3.6074)
  point P94 (4.8757, 4.7843)
  point P95 (4.4956, 4.6093)
  point P96 (3.3615, 5.4333)
  point P97 (3.4105, 5.8488)
  point P98 (2.032, 6.2968)
  point P99 (1.8273, 5.9318)
  point P100 (0.4255, 5.9318)
  point P101 (0.2209, 6.2968)
  point P102 (-1.1577, 5.8436)
  point P103 (-1.1087, 5.4333)
  point P104 (-2.2428, 4.6093)
  point P105 (-2.6229, 4.7843)
  point P106 (-3.4749, 3.6117)
  point P107 (-3.1839, 3.2983)
  point P108 (-3.6149, 1.9717)
  point P109 (-4.0345, 1.8892)
  point P110 (-4.0345, 0.4397)
  point P111 (-3.6242, 0.3579)
  point P112 (-3.191, -0.9753)
  point P113 (-3.4749, -1.2827)
  point P114 (-2.6229, -2.4554)
  point P115 (-2.2428, -2.2804)
  point P116 (-1.1087, -3.1044)
  point P117 (-1.1577, -3.5199)
  point P118 (0.2209, -3.9678)
  point P119 (0.429, -3.5943)
  point P120 (0.4255, -3.6028)
  point P121 (3.4105, -3.5199)
  point P122 (5.877, 0.3579)
  point P123 (6.2873, 1.8892)
  point P124 (5.7277, 3.6117)
  point P125 (-1.1577, 5.8488)
  point P126 (-3.191, 3.3043)
  point P127 (-3.6242, 1.971)
  dimension "d2" = 360
  dimension "d12" = 6
extrude "押し出し1" add sketch "スケッチ1" along normal blind 3.5 contours A1 A2 A75 A74 A73 A72 L19 A76 L20 A77 A78 A79 A67 A66 A65 A64 L17 A68 L18 A69 A70 A71 A59 L2 A80 A19 A18 A17 A16 L5 A20 L6 A21 A22 A23 A11 A10 A9 A8 L3 A12 L4 A13 A14 A15 A7 A5 A4 A3 L1 A6 L0 A0 | A59 A58 A57 A56 L15 A60 L16 A61 A62 A63 A51 A50 A49 A48 L13 A52 L14 A53 A54 A55 A43 A42 A41 A40 L11 A44 L12 A45 A46 A47 A35 A34 A33 A32 L9 A36 L10 A37 A38 A39 A27 A26 A25 A24 L7 A28 L8 A29 A30 A31 A19 L2 A80
properties part number "m1歯数10ギア3.5t"
